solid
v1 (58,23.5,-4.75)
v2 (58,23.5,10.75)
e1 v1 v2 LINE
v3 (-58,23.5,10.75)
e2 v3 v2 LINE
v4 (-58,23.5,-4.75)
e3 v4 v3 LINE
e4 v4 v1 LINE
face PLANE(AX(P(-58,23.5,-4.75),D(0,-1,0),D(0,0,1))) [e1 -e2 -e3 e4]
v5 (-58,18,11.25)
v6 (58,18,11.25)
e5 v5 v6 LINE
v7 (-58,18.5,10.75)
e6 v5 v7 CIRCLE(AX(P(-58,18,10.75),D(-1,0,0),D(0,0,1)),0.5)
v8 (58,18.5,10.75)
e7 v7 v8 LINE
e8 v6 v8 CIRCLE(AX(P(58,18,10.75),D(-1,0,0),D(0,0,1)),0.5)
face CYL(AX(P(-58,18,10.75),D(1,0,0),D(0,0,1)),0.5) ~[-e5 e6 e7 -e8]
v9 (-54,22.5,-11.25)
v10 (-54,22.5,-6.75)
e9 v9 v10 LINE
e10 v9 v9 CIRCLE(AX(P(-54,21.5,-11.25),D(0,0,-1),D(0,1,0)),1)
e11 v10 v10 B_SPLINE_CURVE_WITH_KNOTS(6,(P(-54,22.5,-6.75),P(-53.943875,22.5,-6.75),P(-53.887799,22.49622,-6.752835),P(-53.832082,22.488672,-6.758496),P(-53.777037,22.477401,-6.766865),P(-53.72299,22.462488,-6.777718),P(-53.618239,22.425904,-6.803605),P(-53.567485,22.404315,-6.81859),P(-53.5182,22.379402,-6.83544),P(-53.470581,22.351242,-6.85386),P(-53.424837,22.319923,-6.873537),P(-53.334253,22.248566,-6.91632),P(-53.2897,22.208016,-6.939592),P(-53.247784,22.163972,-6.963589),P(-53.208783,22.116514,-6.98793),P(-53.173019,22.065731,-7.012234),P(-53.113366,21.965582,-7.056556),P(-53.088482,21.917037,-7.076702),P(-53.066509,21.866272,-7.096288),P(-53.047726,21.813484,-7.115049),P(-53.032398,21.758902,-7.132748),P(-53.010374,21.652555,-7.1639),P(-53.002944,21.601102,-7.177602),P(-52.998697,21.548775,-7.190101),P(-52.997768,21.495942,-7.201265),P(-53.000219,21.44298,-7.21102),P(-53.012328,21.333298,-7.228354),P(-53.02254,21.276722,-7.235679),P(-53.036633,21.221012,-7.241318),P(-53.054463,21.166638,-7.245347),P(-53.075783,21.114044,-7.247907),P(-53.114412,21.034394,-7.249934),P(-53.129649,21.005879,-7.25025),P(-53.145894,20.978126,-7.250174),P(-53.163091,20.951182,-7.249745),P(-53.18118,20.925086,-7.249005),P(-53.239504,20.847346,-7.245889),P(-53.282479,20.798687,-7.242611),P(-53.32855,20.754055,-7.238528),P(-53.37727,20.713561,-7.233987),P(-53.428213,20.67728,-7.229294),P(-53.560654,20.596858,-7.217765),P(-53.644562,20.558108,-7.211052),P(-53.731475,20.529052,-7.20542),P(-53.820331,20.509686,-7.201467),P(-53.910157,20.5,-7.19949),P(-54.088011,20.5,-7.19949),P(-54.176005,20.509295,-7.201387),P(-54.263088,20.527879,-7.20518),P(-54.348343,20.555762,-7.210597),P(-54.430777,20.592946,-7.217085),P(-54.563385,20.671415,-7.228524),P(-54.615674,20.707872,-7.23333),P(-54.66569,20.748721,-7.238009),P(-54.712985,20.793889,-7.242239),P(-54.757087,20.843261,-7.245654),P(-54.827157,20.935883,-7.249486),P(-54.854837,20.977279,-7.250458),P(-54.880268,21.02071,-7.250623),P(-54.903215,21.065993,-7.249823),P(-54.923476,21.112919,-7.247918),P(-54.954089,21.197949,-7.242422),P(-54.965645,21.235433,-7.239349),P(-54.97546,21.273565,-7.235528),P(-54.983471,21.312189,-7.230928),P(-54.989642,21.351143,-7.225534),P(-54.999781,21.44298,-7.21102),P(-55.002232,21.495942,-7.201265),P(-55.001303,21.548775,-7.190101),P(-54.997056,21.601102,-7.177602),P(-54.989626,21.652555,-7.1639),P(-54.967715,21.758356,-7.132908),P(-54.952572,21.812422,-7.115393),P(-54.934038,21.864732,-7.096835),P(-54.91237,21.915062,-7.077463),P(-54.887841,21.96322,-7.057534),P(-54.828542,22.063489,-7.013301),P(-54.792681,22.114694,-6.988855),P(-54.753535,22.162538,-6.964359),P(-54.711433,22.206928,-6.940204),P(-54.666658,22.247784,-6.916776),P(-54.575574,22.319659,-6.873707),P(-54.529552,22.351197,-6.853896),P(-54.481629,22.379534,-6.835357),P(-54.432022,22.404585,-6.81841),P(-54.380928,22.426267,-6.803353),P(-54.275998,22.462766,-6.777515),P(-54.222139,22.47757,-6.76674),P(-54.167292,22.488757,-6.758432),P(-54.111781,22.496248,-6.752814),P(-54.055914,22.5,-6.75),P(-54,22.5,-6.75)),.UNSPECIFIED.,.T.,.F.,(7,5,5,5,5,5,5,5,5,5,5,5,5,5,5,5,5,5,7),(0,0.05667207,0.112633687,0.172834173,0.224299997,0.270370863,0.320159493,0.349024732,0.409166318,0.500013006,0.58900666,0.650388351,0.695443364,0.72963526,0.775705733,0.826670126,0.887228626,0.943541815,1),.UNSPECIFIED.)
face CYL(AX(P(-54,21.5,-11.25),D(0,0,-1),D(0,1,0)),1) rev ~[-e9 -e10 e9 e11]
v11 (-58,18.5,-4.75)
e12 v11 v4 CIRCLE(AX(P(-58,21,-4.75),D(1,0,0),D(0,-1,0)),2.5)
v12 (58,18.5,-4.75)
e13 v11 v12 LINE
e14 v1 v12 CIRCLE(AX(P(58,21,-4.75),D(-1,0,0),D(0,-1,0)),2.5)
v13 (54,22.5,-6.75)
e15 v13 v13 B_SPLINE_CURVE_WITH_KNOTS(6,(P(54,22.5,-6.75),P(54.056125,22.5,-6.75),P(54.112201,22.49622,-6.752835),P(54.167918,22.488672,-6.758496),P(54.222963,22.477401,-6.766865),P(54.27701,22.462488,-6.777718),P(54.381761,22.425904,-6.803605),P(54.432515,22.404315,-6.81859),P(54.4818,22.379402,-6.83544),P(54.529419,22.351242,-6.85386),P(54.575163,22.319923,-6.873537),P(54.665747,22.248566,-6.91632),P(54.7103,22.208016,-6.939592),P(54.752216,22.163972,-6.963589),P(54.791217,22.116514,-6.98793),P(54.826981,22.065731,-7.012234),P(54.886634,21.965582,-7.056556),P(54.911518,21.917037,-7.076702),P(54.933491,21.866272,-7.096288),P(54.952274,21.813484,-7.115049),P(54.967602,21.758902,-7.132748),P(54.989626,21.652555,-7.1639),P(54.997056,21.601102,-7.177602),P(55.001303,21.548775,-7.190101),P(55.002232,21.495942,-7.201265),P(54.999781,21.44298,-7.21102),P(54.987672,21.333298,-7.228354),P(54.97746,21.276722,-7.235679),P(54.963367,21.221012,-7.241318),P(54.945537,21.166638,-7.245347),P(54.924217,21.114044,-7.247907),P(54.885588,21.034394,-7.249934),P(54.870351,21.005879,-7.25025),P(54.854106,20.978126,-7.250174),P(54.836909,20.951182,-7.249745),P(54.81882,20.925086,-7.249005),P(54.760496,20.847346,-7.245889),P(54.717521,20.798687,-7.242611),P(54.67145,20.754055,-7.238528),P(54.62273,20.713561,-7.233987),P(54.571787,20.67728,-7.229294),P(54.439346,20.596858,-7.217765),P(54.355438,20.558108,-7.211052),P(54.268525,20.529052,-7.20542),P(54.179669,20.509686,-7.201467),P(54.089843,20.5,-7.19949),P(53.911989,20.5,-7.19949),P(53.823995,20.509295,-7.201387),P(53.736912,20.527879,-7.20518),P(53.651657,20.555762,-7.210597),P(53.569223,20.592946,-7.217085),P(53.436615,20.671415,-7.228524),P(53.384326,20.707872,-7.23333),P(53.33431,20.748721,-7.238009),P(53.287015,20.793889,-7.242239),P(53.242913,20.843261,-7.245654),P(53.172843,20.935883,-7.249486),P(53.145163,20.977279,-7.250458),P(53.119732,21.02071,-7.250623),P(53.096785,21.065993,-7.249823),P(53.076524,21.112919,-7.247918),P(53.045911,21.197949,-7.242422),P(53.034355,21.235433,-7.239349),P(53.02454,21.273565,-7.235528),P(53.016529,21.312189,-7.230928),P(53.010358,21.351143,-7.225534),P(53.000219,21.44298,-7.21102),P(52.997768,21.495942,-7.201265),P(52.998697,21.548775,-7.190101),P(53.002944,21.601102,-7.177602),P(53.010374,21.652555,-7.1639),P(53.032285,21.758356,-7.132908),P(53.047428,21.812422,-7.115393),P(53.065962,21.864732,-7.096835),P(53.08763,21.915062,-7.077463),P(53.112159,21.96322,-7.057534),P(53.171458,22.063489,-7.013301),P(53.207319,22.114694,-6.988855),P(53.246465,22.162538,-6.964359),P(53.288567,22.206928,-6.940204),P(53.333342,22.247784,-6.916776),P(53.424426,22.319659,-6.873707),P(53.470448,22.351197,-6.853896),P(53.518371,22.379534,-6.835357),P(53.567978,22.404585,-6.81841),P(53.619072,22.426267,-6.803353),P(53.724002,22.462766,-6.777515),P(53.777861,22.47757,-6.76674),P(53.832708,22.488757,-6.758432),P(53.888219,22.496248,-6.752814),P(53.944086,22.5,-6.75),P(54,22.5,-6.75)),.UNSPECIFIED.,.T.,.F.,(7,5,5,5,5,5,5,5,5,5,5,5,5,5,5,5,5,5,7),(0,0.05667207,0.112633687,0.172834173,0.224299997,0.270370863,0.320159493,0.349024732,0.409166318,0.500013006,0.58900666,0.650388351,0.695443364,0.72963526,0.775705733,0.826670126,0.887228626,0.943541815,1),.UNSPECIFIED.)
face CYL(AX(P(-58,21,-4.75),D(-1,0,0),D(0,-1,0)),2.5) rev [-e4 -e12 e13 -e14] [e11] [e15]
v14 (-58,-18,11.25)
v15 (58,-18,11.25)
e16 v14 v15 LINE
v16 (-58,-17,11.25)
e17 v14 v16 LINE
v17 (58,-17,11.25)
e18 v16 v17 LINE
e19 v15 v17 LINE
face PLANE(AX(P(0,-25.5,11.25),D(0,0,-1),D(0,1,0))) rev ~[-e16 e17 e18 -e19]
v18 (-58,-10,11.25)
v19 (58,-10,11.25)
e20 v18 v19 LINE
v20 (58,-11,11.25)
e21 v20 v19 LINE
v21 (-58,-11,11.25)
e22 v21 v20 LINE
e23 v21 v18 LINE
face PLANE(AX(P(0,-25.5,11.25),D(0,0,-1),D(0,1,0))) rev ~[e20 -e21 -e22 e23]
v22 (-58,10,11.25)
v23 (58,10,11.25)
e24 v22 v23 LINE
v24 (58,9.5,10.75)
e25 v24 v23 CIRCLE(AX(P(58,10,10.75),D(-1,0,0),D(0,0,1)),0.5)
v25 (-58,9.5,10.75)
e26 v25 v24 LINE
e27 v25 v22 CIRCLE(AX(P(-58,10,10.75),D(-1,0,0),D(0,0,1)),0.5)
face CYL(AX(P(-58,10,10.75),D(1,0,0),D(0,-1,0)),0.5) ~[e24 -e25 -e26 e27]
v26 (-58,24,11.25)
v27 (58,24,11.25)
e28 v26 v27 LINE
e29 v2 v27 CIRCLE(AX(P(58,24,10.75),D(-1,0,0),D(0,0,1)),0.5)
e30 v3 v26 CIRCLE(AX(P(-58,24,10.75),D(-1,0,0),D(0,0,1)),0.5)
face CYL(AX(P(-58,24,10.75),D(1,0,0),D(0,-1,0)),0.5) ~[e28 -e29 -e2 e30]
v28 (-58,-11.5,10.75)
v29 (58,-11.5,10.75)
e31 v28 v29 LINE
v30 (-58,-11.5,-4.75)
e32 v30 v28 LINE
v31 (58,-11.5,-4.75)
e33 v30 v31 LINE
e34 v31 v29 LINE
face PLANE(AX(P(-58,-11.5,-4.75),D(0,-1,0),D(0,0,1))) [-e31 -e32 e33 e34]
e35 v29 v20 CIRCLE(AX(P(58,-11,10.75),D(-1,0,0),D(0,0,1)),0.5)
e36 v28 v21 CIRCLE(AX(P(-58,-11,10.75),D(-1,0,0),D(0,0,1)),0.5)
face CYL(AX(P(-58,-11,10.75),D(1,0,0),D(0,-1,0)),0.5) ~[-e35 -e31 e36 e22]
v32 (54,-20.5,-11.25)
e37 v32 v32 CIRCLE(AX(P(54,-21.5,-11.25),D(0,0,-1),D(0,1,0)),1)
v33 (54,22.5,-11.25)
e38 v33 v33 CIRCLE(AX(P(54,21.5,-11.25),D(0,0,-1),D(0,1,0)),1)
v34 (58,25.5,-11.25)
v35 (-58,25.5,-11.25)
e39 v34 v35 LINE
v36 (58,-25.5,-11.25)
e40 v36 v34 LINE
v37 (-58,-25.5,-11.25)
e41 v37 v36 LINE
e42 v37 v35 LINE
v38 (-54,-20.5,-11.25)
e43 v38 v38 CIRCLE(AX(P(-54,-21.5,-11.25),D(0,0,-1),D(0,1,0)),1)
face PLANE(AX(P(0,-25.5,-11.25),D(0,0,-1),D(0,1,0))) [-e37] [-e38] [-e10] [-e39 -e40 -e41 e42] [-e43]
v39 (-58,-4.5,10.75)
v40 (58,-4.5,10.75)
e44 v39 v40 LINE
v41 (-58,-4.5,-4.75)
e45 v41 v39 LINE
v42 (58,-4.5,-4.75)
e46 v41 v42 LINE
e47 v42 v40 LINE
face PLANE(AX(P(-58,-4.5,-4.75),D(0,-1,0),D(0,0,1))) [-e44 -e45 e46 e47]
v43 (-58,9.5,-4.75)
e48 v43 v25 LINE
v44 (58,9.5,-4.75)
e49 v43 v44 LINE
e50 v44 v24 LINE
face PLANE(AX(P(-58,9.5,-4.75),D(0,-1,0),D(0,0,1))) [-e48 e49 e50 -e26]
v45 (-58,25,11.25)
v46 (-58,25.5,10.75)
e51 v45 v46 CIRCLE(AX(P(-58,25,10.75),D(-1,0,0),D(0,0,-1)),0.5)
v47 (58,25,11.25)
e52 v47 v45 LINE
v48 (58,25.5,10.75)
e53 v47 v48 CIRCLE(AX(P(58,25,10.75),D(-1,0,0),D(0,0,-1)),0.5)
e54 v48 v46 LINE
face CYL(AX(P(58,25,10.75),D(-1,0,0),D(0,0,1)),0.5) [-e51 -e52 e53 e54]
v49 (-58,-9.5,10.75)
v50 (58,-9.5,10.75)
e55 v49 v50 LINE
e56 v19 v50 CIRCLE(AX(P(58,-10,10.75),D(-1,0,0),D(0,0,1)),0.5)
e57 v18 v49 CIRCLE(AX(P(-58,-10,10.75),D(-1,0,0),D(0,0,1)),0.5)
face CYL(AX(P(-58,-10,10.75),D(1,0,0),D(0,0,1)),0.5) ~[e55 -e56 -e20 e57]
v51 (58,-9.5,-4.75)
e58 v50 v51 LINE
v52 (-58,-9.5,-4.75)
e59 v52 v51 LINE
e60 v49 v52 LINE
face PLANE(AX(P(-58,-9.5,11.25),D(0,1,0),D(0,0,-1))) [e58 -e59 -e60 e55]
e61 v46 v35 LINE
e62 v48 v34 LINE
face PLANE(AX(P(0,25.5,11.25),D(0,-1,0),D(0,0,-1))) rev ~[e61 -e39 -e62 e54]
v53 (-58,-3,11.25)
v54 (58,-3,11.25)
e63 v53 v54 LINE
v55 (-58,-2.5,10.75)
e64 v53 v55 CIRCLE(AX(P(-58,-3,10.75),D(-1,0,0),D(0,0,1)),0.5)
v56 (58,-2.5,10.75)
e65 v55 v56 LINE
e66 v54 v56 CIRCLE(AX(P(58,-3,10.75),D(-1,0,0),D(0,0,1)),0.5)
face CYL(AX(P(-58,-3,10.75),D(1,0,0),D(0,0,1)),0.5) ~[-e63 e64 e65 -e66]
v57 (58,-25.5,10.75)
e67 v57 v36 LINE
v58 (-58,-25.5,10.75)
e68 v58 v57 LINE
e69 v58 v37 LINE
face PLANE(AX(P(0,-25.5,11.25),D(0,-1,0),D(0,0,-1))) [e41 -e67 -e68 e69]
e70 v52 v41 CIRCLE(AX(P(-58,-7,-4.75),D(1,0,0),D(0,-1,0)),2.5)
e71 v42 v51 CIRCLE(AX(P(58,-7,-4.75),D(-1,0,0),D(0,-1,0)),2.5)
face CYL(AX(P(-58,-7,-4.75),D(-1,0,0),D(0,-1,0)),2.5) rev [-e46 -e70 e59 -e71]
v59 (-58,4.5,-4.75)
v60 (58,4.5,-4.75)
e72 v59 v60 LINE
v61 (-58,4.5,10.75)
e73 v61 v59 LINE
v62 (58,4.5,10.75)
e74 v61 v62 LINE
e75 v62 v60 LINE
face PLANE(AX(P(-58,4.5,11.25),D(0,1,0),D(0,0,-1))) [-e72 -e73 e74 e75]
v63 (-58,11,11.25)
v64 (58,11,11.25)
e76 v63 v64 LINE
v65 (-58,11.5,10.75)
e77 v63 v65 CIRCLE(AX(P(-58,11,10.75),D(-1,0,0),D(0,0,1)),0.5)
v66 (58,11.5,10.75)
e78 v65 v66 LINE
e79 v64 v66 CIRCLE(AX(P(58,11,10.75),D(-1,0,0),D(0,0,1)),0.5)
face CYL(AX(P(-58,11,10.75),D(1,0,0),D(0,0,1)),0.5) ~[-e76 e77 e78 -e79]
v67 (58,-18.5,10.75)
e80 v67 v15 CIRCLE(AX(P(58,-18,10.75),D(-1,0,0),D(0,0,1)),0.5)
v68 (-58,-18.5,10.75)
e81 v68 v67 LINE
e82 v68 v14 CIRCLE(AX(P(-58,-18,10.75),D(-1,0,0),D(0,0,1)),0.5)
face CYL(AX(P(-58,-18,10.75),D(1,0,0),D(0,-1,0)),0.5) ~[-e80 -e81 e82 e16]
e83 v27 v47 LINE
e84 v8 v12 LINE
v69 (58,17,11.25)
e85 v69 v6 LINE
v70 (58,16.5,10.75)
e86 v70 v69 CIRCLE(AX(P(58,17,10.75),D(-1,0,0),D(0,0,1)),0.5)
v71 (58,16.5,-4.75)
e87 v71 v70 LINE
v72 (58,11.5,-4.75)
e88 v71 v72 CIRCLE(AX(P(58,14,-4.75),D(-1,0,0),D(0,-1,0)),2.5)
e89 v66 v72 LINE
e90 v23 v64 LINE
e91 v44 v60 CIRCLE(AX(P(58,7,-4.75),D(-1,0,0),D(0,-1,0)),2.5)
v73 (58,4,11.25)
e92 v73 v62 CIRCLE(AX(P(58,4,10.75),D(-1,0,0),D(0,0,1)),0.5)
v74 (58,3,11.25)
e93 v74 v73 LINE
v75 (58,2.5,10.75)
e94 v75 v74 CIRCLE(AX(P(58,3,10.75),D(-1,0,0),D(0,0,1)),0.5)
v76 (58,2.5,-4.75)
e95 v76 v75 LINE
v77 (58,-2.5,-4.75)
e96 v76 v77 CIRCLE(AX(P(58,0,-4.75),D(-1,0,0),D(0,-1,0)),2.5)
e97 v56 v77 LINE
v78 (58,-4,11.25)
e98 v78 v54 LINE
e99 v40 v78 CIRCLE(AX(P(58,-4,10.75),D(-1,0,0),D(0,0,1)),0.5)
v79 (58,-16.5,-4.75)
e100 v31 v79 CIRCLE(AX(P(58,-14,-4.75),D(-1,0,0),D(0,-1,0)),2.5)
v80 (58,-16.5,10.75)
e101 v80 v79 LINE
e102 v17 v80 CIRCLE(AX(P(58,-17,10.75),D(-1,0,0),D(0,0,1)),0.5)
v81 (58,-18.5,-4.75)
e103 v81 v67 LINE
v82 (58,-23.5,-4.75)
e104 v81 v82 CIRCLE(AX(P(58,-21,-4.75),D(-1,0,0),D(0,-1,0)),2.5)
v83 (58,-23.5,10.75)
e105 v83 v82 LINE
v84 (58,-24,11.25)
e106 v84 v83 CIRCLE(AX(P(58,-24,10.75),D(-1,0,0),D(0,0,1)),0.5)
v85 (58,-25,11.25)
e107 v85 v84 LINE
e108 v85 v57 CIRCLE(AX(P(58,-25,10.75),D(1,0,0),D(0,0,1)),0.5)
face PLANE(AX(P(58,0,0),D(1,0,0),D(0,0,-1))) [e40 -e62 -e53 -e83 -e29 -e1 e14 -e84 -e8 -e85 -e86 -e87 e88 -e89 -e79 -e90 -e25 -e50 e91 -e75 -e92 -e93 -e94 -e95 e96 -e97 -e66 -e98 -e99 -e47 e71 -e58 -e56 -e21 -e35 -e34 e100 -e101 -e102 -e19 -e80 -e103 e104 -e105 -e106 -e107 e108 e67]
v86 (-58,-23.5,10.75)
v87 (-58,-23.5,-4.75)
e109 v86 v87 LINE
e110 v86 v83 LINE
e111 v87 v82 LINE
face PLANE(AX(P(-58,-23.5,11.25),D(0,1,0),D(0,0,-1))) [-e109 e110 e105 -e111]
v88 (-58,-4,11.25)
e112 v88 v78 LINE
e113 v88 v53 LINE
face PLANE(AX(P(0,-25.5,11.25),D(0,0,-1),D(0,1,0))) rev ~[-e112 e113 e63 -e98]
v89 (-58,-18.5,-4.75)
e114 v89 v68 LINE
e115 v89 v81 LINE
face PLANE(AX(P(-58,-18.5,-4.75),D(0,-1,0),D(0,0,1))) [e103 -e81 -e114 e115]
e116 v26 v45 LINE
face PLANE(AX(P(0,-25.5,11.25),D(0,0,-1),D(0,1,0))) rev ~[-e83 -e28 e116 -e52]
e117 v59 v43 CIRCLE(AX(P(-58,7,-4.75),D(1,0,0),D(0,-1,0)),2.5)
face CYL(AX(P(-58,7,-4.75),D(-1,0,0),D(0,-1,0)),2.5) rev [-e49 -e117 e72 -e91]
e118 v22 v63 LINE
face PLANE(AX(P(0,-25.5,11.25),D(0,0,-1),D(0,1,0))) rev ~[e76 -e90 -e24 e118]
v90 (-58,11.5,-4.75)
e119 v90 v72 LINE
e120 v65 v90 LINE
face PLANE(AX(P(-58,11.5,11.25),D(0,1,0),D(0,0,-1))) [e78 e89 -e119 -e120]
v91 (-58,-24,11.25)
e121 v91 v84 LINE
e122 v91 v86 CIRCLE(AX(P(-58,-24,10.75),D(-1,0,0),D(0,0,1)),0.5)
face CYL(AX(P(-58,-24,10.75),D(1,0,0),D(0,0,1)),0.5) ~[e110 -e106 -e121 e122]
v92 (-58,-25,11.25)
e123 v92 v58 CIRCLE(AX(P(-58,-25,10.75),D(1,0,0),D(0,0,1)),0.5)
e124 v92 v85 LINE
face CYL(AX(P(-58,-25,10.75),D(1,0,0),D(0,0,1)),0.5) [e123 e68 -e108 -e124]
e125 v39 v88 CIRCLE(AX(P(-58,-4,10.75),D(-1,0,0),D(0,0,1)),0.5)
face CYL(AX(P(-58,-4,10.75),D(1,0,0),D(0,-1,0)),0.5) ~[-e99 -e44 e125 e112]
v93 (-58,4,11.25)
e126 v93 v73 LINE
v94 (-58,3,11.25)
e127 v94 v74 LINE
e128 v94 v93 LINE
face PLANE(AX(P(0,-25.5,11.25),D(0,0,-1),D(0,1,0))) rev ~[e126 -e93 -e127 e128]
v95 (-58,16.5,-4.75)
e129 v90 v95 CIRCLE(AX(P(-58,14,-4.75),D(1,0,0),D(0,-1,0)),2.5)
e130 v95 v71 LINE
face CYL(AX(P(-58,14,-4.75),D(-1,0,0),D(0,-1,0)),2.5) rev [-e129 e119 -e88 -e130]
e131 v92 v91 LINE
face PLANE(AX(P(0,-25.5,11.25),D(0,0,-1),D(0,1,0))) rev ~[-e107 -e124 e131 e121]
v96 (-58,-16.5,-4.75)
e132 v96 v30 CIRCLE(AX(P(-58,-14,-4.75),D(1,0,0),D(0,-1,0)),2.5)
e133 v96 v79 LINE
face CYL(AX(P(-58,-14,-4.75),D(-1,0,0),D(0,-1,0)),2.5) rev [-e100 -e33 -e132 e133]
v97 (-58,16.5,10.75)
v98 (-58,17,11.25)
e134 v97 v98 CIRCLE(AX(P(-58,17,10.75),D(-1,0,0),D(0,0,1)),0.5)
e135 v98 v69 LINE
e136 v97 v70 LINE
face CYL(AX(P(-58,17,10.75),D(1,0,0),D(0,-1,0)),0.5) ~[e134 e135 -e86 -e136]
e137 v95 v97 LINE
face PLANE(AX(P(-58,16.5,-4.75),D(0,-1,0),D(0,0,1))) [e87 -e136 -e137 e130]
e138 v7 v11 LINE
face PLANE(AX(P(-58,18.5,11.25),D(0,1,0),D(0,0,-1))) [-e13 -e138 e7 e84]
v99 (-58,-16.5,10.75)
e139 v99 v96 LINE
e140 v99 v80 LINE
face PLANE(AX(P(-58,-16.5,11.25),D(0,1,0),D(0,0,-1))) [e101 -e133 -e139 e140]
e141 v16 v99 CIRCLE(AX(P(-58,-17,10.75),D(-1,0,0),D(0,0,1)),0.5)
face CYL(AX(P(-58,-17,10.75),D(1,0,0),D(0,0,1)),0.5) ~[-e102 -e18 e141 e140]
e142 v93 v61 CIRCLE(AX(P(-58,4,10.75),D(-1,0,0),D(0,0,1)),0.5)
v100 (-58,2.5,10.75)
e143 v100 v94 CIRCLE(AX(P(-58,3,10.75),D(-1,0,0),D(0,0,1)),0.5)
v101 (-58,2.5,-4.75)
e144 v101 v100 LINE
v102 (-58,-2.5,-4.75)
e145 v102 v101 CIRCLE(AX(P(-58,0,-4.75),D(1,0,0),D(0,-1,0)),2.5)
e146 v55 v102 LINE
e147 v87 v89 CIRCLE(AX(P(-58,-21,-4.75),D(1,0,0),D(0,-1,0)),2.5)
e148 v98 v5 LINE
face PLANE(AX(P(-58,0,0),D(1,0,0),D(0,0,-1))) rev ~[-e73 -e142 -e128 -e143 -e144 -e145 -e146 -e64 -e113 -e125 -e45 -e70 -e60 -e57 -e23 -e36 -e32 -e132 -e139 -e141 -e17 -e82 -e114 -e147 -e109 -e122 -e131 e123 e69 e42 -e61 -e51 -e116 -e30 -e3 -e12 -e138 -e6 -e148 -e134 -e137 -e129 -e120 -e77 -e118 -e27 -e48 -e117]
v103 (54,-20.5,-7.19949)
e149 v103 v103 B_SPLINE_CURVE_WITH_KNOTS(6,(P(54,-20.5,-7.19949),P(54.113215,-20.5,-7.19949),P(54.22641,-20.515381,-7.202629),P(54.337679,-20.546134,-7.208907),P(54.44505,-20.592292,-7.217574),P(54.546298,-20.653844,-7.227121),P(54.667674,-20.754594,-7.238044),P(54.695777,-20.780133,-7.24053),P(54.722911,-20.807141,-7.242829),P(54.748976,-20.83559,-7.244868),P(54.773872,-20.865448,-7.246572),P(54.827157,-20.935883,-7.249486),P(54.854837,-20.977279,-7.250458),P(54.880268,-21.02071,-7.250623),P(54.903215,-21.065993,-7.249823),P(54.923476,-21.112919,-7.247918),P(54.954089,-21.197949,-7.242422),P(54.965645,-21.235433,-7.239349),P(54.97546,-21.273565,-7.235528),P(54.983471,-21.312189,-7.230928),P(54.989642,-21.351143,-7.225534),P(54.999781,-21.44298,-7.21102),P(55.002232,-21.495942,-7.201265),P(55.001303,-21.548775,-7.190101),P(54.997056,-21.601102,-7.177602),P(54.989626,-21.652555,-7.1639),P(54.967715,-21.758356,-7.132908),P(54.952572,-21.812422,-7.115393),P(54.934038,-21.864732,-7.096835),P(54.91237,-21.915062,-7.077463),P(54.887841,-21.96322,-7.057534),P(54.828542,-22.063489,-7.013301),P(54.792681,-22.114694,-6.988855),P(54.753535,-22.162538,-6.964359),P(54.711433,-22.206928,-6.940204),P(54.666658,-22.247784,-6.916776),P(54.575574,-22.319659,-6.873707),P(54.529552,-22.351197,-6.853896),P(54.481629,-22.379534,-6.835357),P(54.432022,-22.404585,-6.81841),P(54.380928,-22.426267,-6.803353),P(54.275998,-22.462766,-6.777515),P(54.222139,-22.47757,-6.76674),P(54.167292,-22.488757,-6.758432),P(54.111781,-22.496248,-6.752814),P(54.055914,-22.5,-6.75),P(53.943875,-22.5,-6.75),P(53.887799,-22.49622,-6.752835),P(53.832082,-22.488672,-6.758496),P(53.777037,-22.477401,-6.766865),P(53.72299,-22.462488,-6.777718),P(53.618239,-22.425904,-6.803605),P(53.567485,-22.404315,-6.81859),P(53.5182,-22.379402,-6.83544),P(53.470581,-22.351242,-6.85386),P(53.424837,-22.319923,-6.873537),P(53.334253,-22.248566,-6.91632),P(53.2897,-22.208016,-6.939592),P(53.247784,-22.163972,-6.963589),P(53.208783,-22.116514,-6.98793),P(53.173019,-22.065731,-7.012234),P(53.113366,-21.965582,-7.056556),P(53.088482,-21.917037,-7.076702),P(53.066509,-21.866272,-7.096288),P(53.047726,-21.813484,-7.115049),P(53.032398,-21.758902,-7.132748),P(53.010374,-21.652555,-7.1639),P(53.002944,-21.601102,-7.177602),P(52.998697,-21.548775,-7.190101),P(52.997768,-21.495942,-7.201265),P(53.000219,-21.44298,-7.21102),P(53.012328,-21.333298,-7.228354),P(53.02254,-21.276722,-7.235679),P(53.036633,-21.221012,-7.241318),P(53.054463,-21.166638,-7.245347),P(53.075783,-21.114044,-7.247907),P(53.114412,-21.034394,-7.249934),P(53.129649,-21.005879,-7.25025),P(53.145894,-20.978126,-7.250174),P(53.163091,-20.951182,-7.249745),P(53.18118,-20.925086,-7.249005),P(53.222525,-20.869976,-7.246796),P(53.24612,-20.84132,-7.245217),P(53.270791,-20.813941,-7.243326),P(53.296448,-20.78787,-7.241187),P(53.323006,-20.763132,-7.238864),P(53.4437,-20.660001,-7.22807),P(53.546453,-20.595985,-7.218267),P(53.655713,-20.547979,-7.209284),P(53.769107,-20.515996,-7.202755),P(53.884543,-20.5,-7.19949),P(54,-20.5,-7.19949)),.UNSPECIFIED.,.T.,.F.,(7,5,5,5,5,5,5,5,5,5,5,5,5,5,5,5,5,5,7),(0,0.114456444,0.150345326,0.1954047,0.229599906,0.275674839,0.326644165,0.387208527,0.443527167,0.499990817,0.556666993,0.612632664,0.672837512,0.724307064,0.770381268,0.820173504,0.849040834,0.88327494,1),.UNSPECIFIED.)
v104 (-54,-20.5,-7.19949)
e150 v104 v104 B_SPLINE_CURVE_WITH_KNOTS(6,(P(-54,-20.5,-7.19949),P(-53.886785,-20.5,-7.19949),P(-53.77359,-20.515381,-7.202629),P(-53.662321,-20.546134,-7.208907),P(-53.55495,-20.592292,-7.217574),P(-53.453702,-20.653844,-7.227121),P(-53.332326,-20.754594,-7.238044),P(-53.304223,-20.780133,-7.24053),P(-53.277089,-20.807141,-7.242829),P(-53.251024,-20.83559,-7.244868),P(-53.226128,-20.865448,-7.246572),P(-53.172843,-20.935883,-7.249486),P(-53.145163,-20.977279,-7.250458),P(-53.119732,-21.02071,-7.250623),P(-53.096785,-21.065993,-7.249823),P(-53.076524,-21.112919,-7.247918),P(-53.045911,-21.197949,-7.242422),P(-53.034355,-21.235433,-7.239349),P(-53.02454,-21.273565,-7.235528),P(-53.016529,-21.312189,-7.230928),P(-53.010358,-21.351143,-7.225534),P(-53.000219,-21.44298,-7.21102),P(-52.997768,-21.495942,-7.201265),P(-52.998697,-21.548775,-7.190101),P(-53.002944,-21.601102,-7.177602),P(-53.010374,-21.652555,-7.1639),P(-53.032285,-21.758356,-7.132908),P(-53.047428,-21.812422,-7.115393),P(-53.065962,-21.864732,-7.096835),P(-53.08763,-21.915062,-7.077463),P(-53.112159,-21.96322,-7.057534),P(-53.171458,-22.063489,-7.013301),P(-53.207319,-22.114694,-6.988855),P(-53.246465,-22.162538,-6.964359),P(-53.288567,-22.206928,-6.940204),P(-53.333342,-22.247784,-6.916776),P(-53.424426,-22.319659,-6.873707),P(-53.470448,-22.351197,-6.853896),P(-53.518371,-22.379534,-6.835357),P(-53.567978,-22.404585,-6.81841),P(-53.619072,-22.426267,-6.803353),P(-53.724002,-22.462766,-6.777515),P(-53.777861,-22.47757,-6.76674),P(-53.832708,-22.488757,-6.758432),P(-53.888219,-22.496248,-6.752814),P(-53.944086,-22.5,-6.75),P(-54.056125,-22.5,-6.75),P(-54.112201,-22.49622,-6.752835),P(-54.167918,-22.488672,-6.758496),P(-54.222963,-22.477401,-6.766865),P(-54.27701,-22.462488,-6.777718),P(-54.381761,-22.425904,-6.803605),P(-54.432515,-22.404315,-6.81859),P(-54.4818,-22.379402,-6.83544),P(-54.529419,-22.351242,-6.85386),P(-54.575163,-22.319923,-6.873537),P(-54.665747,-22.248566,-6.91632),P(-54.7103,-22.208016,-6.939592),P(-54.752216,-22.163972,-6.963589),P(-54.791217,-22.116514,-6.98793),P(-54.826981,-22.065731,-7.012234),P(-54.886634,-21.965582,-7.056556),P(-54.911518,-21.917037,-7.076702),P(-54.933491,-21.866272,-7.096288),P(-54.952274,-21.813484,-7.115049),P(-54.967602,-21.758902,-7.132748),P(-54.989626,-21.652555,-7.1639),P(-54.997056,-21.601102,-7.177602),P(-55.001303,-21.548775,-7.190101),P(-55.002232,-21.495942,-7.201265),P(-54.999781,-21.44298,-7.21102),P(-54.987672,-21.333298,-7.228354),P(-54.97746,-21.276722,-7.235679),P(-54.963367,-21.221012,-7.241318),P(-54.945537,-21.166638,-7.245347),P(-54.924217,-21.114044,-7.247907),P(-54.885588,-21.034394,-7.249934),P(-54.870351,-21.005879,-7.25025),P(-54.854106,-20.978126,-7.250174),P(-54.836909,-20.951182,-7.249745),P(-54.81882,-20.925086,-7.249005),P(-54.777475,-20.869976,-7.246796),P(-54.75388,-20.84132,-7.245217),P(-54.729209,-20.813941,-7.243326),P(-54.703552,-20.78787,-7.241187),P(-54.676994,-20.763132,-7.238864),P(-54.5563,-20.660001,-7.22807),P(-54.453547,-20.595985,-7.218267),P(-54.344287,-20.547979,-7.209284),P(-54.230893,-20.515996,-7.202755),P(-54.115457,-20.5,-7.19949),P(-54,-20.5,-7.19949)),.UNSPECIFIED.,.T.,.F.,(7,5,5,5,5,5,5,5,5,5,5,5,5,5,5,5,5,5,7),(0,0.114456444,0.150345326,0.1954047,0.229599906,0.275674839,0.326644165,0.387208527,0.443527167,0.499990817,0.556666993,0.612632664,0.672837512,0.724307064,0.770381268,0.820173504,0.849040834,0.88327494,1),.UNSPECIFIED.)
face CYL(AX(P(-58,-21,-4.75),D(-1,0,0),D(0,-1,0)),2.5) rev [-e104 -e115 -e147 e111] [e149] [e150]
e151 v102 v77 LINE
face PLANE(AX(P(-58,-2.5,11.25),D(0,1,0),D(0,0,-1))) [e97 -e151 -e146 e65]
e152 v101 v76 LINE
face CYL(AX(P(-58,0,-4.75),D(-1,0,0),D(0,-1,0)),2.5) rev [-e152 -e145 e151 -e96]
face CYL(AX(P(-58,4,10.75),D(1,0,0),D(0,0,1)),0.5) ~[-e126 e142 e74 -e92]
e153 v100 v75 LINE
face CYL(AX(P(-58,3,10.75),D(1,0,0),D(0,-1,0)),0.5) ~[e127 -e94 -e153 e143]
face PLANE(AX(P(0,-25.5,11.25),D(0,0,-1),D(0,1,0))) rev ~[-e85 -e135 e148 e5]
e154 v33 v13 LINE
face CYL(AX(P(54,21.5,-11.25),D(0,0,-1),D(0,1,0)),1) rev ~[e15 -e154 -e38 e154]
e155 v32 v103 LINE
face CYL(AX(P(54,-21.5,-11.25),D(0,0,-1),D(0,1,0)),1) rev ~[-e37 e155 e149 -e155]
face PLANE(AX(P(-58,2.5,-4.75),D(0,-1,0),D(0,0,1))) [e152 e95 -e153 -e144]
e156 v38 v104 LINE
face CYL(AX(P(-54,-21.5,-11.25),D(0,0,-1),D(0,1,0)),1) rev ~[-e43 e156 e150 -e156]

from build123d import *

# Parameters (mm, degrees)
SKETCH1_W           = 22.5
SKETCH1_H           = 51
BOSS_EXTRUDE1_DEPTH = 58
CUT_EXTRUDE1_REACH  = 121.301
LPATTERN1_COUNT     = 4
LPATTERN1_PITCH     = 7
LPATTERN1_COL_COUNT = 4
LPATTERN1_COL_PITCH = 7
FILLET1_R           = 0.5
CUT_EXTRUDE2_REACH  = 69.235
SKETCH3_R           = 1


with BuildPart() as part:
    # Sketch1 → Boss-Extrude1 (new, symmetric)
    with BuildSketch(Plane(origin=(0, 0, 0), x_dir=(0, 0, -1), z_dir=(1, 0, 0))):
        Rectangle(SKETCH1_W, SKETCH1_H)
    extrude(amount=BOSS_EXTRUDE1_DEPTH, both=True)

    # Sketch2 → Cut-Extrude1 (cut, up to next)
    with BuildSketch(Plane.ZY.offset(58), mode=Mode.PRIVATE) as cut_extrude1_sk1:
        with BuildLine():
            Line((-4.75, 2.5), (11.25, 2.5))
            Line((11.25, 2.5), (11.25, -2.5))
            Line((11.25, -2.5), (-4.75, -2.5))
            ThreePointArc((-4.75, -2.5), (-7.25, 0), (-4.75, 2.5))
        make_face()
    cut_extrude1_tool1 = extrude(cut_extrude1_sk1.sketch, amount=-CUT_EXTRUDE1_REACH, mode=Mode.PRIVATE) & part.part
    cut_extrude1 = cut_extrude1_tool1.solids().sort_by_distance((-58, 0, 2.259586))[0]
    add(cut_extrude1, mode=Mode.SUBTRACT)

    # LPattern1: Cut-Extrude1 ×4
    with Locations(*[(0, -i * LPATTERN1_PITCH, 0) for i in range(1, LPATTERN1_COUNT)]):
        add(cut_extrude1, mode=Mode.SUBTRACT)

    # LPattern1 col: Cut-Extrude1 ×4
    with Locations(*[(0, i * LPATTERN1_COL_PITCH, 0) for i in range(1, LPATTERN1_COL_COUNT)]):
        add(cut_extrude1, mode=Mode.SUBTRACT)

    # Fillet1
    fillet1_edges = [part.edges().sort_by_distance(p)[0] for p in [
        (0, 2.5, 11.25),
        (0, -2.5, 11.25),
        (0, 9.5, 11.25),
        (0, 4.5, 11.25),
        (0, -18.5, 11.25),
        (0, -23.5, 11.25),
        (0, -4.5, 11.25),
        (0, -9.5, 11.25),
        (0, 23.5, 11.25),
        (0, 18.5, 11.25),
        (0, -25.5, 11.25),
        (0, 25.5, 11.25),
        (0, 16.5, 11.25),
        (0, 11.5, 11.25),
        (0, -11.5, 11.25),
        (0, -16.5, 11.25),
    ]]
    fillet(fillet1_edges, radius=FILLET1_R)

    # Sketch3 → Cut-Extrude2 (cut, up to next)
    with BuildSketch(Plane(origin=(0, 0, -11.25), x_dir=(-1, 0, 0), z_dir=(0, 0, -1)), mode=Mode.PRIVATE) as cut_extrude2_sk1:
        with Locations(Location((-54, 21.5, 0), (0, 0, 90))):
            Circle(SKETCH3_R)
    cut_extrude2_tool1 = extrude(cut_extrude2_sk1.sketch, amount=-CUT_EXTRUDE2_REACH, mode=Mode.PRIVATE) & part.part
    # Sketch3 → Cut-Extrude2 (cut, up to next)
    with BuildSketch(Plane(origin=(0, 0, -11.25), x_dir=(-1, 0, 0), z_dir=(0, 0, -1)), mode=Mode.PRIVATE) as cut_extrude2_sk2:
        with Locations(Location((-54, -21.5, 0), (0, 0, 90))):
            Circle(SKETCH3_R)
    cut_extrude2_tool2 = extrude(cut_extrude2_sk2.sketch, amount=-CUT_EXTRUDE2_REACH, mode=Mode.PRIVATE) & part.part
    # Sketch3 → Cut-Extrude2 (cut, up to next)
    with BuildSketch(Plane(origin=(0, 0, -11.25), x_dir=(-1, 0, 0), z_dir=(0, 0, -1)), mode=Mode.PRIVATE) as cut_extrude2_sk3:
        with Locations(Location((54, -21.5, 0), (0, 0, 90))):
            Circle(SKETCH3_R)
    cut_extrude2_tool3 = extrude(cut_extrude2_sk3.sketch, amount=-CUT_EXTRUDE2_REACH, mode=Mode.PRIVATE) & part.part
    # Sketch3 → Cut-Extrude2 (cut, up to next)
    with BuildSketch(Plane(origin=(0, 0, -11.25), x_dir=(-1, 0, 0), z_dir=(0, 0, -1)), mode=Mode.PRIVATE) as cut_extrude2_sk4:
        with Locations(Location((54, 21.5, 0), (0, 0, 90))):
            Circle(SKETCH3_R)
    cut_extrude2_tool4 = extrude(cut_extrude2_sk4.sketch, amount=-CUT_EXTRUDE2_REACH, mode=Mode.PRIVATE) & part.part
    add(cut_extrude2_tool1.solids().sort_by_distance((54, 21.5, -11.25))[0], mode=Mode.SUBTRACT)
    add(cut_extrude2_tool2.solids().sort_by_distance((54, -21.5, -11.25))[0], mode=Mode.SUBTRACT)
    add(cut_extrude2_tool3.solids().sort_by_distance((-54, -21.5, -11.25))[0], mode=Mode.SUBTRACT)
    add(cut_extrude2_tool4.solids().sort_by_distance((-54, 21.5, -11.25))[0], mode=Mode.SUBTRACT)


solid = part.part
